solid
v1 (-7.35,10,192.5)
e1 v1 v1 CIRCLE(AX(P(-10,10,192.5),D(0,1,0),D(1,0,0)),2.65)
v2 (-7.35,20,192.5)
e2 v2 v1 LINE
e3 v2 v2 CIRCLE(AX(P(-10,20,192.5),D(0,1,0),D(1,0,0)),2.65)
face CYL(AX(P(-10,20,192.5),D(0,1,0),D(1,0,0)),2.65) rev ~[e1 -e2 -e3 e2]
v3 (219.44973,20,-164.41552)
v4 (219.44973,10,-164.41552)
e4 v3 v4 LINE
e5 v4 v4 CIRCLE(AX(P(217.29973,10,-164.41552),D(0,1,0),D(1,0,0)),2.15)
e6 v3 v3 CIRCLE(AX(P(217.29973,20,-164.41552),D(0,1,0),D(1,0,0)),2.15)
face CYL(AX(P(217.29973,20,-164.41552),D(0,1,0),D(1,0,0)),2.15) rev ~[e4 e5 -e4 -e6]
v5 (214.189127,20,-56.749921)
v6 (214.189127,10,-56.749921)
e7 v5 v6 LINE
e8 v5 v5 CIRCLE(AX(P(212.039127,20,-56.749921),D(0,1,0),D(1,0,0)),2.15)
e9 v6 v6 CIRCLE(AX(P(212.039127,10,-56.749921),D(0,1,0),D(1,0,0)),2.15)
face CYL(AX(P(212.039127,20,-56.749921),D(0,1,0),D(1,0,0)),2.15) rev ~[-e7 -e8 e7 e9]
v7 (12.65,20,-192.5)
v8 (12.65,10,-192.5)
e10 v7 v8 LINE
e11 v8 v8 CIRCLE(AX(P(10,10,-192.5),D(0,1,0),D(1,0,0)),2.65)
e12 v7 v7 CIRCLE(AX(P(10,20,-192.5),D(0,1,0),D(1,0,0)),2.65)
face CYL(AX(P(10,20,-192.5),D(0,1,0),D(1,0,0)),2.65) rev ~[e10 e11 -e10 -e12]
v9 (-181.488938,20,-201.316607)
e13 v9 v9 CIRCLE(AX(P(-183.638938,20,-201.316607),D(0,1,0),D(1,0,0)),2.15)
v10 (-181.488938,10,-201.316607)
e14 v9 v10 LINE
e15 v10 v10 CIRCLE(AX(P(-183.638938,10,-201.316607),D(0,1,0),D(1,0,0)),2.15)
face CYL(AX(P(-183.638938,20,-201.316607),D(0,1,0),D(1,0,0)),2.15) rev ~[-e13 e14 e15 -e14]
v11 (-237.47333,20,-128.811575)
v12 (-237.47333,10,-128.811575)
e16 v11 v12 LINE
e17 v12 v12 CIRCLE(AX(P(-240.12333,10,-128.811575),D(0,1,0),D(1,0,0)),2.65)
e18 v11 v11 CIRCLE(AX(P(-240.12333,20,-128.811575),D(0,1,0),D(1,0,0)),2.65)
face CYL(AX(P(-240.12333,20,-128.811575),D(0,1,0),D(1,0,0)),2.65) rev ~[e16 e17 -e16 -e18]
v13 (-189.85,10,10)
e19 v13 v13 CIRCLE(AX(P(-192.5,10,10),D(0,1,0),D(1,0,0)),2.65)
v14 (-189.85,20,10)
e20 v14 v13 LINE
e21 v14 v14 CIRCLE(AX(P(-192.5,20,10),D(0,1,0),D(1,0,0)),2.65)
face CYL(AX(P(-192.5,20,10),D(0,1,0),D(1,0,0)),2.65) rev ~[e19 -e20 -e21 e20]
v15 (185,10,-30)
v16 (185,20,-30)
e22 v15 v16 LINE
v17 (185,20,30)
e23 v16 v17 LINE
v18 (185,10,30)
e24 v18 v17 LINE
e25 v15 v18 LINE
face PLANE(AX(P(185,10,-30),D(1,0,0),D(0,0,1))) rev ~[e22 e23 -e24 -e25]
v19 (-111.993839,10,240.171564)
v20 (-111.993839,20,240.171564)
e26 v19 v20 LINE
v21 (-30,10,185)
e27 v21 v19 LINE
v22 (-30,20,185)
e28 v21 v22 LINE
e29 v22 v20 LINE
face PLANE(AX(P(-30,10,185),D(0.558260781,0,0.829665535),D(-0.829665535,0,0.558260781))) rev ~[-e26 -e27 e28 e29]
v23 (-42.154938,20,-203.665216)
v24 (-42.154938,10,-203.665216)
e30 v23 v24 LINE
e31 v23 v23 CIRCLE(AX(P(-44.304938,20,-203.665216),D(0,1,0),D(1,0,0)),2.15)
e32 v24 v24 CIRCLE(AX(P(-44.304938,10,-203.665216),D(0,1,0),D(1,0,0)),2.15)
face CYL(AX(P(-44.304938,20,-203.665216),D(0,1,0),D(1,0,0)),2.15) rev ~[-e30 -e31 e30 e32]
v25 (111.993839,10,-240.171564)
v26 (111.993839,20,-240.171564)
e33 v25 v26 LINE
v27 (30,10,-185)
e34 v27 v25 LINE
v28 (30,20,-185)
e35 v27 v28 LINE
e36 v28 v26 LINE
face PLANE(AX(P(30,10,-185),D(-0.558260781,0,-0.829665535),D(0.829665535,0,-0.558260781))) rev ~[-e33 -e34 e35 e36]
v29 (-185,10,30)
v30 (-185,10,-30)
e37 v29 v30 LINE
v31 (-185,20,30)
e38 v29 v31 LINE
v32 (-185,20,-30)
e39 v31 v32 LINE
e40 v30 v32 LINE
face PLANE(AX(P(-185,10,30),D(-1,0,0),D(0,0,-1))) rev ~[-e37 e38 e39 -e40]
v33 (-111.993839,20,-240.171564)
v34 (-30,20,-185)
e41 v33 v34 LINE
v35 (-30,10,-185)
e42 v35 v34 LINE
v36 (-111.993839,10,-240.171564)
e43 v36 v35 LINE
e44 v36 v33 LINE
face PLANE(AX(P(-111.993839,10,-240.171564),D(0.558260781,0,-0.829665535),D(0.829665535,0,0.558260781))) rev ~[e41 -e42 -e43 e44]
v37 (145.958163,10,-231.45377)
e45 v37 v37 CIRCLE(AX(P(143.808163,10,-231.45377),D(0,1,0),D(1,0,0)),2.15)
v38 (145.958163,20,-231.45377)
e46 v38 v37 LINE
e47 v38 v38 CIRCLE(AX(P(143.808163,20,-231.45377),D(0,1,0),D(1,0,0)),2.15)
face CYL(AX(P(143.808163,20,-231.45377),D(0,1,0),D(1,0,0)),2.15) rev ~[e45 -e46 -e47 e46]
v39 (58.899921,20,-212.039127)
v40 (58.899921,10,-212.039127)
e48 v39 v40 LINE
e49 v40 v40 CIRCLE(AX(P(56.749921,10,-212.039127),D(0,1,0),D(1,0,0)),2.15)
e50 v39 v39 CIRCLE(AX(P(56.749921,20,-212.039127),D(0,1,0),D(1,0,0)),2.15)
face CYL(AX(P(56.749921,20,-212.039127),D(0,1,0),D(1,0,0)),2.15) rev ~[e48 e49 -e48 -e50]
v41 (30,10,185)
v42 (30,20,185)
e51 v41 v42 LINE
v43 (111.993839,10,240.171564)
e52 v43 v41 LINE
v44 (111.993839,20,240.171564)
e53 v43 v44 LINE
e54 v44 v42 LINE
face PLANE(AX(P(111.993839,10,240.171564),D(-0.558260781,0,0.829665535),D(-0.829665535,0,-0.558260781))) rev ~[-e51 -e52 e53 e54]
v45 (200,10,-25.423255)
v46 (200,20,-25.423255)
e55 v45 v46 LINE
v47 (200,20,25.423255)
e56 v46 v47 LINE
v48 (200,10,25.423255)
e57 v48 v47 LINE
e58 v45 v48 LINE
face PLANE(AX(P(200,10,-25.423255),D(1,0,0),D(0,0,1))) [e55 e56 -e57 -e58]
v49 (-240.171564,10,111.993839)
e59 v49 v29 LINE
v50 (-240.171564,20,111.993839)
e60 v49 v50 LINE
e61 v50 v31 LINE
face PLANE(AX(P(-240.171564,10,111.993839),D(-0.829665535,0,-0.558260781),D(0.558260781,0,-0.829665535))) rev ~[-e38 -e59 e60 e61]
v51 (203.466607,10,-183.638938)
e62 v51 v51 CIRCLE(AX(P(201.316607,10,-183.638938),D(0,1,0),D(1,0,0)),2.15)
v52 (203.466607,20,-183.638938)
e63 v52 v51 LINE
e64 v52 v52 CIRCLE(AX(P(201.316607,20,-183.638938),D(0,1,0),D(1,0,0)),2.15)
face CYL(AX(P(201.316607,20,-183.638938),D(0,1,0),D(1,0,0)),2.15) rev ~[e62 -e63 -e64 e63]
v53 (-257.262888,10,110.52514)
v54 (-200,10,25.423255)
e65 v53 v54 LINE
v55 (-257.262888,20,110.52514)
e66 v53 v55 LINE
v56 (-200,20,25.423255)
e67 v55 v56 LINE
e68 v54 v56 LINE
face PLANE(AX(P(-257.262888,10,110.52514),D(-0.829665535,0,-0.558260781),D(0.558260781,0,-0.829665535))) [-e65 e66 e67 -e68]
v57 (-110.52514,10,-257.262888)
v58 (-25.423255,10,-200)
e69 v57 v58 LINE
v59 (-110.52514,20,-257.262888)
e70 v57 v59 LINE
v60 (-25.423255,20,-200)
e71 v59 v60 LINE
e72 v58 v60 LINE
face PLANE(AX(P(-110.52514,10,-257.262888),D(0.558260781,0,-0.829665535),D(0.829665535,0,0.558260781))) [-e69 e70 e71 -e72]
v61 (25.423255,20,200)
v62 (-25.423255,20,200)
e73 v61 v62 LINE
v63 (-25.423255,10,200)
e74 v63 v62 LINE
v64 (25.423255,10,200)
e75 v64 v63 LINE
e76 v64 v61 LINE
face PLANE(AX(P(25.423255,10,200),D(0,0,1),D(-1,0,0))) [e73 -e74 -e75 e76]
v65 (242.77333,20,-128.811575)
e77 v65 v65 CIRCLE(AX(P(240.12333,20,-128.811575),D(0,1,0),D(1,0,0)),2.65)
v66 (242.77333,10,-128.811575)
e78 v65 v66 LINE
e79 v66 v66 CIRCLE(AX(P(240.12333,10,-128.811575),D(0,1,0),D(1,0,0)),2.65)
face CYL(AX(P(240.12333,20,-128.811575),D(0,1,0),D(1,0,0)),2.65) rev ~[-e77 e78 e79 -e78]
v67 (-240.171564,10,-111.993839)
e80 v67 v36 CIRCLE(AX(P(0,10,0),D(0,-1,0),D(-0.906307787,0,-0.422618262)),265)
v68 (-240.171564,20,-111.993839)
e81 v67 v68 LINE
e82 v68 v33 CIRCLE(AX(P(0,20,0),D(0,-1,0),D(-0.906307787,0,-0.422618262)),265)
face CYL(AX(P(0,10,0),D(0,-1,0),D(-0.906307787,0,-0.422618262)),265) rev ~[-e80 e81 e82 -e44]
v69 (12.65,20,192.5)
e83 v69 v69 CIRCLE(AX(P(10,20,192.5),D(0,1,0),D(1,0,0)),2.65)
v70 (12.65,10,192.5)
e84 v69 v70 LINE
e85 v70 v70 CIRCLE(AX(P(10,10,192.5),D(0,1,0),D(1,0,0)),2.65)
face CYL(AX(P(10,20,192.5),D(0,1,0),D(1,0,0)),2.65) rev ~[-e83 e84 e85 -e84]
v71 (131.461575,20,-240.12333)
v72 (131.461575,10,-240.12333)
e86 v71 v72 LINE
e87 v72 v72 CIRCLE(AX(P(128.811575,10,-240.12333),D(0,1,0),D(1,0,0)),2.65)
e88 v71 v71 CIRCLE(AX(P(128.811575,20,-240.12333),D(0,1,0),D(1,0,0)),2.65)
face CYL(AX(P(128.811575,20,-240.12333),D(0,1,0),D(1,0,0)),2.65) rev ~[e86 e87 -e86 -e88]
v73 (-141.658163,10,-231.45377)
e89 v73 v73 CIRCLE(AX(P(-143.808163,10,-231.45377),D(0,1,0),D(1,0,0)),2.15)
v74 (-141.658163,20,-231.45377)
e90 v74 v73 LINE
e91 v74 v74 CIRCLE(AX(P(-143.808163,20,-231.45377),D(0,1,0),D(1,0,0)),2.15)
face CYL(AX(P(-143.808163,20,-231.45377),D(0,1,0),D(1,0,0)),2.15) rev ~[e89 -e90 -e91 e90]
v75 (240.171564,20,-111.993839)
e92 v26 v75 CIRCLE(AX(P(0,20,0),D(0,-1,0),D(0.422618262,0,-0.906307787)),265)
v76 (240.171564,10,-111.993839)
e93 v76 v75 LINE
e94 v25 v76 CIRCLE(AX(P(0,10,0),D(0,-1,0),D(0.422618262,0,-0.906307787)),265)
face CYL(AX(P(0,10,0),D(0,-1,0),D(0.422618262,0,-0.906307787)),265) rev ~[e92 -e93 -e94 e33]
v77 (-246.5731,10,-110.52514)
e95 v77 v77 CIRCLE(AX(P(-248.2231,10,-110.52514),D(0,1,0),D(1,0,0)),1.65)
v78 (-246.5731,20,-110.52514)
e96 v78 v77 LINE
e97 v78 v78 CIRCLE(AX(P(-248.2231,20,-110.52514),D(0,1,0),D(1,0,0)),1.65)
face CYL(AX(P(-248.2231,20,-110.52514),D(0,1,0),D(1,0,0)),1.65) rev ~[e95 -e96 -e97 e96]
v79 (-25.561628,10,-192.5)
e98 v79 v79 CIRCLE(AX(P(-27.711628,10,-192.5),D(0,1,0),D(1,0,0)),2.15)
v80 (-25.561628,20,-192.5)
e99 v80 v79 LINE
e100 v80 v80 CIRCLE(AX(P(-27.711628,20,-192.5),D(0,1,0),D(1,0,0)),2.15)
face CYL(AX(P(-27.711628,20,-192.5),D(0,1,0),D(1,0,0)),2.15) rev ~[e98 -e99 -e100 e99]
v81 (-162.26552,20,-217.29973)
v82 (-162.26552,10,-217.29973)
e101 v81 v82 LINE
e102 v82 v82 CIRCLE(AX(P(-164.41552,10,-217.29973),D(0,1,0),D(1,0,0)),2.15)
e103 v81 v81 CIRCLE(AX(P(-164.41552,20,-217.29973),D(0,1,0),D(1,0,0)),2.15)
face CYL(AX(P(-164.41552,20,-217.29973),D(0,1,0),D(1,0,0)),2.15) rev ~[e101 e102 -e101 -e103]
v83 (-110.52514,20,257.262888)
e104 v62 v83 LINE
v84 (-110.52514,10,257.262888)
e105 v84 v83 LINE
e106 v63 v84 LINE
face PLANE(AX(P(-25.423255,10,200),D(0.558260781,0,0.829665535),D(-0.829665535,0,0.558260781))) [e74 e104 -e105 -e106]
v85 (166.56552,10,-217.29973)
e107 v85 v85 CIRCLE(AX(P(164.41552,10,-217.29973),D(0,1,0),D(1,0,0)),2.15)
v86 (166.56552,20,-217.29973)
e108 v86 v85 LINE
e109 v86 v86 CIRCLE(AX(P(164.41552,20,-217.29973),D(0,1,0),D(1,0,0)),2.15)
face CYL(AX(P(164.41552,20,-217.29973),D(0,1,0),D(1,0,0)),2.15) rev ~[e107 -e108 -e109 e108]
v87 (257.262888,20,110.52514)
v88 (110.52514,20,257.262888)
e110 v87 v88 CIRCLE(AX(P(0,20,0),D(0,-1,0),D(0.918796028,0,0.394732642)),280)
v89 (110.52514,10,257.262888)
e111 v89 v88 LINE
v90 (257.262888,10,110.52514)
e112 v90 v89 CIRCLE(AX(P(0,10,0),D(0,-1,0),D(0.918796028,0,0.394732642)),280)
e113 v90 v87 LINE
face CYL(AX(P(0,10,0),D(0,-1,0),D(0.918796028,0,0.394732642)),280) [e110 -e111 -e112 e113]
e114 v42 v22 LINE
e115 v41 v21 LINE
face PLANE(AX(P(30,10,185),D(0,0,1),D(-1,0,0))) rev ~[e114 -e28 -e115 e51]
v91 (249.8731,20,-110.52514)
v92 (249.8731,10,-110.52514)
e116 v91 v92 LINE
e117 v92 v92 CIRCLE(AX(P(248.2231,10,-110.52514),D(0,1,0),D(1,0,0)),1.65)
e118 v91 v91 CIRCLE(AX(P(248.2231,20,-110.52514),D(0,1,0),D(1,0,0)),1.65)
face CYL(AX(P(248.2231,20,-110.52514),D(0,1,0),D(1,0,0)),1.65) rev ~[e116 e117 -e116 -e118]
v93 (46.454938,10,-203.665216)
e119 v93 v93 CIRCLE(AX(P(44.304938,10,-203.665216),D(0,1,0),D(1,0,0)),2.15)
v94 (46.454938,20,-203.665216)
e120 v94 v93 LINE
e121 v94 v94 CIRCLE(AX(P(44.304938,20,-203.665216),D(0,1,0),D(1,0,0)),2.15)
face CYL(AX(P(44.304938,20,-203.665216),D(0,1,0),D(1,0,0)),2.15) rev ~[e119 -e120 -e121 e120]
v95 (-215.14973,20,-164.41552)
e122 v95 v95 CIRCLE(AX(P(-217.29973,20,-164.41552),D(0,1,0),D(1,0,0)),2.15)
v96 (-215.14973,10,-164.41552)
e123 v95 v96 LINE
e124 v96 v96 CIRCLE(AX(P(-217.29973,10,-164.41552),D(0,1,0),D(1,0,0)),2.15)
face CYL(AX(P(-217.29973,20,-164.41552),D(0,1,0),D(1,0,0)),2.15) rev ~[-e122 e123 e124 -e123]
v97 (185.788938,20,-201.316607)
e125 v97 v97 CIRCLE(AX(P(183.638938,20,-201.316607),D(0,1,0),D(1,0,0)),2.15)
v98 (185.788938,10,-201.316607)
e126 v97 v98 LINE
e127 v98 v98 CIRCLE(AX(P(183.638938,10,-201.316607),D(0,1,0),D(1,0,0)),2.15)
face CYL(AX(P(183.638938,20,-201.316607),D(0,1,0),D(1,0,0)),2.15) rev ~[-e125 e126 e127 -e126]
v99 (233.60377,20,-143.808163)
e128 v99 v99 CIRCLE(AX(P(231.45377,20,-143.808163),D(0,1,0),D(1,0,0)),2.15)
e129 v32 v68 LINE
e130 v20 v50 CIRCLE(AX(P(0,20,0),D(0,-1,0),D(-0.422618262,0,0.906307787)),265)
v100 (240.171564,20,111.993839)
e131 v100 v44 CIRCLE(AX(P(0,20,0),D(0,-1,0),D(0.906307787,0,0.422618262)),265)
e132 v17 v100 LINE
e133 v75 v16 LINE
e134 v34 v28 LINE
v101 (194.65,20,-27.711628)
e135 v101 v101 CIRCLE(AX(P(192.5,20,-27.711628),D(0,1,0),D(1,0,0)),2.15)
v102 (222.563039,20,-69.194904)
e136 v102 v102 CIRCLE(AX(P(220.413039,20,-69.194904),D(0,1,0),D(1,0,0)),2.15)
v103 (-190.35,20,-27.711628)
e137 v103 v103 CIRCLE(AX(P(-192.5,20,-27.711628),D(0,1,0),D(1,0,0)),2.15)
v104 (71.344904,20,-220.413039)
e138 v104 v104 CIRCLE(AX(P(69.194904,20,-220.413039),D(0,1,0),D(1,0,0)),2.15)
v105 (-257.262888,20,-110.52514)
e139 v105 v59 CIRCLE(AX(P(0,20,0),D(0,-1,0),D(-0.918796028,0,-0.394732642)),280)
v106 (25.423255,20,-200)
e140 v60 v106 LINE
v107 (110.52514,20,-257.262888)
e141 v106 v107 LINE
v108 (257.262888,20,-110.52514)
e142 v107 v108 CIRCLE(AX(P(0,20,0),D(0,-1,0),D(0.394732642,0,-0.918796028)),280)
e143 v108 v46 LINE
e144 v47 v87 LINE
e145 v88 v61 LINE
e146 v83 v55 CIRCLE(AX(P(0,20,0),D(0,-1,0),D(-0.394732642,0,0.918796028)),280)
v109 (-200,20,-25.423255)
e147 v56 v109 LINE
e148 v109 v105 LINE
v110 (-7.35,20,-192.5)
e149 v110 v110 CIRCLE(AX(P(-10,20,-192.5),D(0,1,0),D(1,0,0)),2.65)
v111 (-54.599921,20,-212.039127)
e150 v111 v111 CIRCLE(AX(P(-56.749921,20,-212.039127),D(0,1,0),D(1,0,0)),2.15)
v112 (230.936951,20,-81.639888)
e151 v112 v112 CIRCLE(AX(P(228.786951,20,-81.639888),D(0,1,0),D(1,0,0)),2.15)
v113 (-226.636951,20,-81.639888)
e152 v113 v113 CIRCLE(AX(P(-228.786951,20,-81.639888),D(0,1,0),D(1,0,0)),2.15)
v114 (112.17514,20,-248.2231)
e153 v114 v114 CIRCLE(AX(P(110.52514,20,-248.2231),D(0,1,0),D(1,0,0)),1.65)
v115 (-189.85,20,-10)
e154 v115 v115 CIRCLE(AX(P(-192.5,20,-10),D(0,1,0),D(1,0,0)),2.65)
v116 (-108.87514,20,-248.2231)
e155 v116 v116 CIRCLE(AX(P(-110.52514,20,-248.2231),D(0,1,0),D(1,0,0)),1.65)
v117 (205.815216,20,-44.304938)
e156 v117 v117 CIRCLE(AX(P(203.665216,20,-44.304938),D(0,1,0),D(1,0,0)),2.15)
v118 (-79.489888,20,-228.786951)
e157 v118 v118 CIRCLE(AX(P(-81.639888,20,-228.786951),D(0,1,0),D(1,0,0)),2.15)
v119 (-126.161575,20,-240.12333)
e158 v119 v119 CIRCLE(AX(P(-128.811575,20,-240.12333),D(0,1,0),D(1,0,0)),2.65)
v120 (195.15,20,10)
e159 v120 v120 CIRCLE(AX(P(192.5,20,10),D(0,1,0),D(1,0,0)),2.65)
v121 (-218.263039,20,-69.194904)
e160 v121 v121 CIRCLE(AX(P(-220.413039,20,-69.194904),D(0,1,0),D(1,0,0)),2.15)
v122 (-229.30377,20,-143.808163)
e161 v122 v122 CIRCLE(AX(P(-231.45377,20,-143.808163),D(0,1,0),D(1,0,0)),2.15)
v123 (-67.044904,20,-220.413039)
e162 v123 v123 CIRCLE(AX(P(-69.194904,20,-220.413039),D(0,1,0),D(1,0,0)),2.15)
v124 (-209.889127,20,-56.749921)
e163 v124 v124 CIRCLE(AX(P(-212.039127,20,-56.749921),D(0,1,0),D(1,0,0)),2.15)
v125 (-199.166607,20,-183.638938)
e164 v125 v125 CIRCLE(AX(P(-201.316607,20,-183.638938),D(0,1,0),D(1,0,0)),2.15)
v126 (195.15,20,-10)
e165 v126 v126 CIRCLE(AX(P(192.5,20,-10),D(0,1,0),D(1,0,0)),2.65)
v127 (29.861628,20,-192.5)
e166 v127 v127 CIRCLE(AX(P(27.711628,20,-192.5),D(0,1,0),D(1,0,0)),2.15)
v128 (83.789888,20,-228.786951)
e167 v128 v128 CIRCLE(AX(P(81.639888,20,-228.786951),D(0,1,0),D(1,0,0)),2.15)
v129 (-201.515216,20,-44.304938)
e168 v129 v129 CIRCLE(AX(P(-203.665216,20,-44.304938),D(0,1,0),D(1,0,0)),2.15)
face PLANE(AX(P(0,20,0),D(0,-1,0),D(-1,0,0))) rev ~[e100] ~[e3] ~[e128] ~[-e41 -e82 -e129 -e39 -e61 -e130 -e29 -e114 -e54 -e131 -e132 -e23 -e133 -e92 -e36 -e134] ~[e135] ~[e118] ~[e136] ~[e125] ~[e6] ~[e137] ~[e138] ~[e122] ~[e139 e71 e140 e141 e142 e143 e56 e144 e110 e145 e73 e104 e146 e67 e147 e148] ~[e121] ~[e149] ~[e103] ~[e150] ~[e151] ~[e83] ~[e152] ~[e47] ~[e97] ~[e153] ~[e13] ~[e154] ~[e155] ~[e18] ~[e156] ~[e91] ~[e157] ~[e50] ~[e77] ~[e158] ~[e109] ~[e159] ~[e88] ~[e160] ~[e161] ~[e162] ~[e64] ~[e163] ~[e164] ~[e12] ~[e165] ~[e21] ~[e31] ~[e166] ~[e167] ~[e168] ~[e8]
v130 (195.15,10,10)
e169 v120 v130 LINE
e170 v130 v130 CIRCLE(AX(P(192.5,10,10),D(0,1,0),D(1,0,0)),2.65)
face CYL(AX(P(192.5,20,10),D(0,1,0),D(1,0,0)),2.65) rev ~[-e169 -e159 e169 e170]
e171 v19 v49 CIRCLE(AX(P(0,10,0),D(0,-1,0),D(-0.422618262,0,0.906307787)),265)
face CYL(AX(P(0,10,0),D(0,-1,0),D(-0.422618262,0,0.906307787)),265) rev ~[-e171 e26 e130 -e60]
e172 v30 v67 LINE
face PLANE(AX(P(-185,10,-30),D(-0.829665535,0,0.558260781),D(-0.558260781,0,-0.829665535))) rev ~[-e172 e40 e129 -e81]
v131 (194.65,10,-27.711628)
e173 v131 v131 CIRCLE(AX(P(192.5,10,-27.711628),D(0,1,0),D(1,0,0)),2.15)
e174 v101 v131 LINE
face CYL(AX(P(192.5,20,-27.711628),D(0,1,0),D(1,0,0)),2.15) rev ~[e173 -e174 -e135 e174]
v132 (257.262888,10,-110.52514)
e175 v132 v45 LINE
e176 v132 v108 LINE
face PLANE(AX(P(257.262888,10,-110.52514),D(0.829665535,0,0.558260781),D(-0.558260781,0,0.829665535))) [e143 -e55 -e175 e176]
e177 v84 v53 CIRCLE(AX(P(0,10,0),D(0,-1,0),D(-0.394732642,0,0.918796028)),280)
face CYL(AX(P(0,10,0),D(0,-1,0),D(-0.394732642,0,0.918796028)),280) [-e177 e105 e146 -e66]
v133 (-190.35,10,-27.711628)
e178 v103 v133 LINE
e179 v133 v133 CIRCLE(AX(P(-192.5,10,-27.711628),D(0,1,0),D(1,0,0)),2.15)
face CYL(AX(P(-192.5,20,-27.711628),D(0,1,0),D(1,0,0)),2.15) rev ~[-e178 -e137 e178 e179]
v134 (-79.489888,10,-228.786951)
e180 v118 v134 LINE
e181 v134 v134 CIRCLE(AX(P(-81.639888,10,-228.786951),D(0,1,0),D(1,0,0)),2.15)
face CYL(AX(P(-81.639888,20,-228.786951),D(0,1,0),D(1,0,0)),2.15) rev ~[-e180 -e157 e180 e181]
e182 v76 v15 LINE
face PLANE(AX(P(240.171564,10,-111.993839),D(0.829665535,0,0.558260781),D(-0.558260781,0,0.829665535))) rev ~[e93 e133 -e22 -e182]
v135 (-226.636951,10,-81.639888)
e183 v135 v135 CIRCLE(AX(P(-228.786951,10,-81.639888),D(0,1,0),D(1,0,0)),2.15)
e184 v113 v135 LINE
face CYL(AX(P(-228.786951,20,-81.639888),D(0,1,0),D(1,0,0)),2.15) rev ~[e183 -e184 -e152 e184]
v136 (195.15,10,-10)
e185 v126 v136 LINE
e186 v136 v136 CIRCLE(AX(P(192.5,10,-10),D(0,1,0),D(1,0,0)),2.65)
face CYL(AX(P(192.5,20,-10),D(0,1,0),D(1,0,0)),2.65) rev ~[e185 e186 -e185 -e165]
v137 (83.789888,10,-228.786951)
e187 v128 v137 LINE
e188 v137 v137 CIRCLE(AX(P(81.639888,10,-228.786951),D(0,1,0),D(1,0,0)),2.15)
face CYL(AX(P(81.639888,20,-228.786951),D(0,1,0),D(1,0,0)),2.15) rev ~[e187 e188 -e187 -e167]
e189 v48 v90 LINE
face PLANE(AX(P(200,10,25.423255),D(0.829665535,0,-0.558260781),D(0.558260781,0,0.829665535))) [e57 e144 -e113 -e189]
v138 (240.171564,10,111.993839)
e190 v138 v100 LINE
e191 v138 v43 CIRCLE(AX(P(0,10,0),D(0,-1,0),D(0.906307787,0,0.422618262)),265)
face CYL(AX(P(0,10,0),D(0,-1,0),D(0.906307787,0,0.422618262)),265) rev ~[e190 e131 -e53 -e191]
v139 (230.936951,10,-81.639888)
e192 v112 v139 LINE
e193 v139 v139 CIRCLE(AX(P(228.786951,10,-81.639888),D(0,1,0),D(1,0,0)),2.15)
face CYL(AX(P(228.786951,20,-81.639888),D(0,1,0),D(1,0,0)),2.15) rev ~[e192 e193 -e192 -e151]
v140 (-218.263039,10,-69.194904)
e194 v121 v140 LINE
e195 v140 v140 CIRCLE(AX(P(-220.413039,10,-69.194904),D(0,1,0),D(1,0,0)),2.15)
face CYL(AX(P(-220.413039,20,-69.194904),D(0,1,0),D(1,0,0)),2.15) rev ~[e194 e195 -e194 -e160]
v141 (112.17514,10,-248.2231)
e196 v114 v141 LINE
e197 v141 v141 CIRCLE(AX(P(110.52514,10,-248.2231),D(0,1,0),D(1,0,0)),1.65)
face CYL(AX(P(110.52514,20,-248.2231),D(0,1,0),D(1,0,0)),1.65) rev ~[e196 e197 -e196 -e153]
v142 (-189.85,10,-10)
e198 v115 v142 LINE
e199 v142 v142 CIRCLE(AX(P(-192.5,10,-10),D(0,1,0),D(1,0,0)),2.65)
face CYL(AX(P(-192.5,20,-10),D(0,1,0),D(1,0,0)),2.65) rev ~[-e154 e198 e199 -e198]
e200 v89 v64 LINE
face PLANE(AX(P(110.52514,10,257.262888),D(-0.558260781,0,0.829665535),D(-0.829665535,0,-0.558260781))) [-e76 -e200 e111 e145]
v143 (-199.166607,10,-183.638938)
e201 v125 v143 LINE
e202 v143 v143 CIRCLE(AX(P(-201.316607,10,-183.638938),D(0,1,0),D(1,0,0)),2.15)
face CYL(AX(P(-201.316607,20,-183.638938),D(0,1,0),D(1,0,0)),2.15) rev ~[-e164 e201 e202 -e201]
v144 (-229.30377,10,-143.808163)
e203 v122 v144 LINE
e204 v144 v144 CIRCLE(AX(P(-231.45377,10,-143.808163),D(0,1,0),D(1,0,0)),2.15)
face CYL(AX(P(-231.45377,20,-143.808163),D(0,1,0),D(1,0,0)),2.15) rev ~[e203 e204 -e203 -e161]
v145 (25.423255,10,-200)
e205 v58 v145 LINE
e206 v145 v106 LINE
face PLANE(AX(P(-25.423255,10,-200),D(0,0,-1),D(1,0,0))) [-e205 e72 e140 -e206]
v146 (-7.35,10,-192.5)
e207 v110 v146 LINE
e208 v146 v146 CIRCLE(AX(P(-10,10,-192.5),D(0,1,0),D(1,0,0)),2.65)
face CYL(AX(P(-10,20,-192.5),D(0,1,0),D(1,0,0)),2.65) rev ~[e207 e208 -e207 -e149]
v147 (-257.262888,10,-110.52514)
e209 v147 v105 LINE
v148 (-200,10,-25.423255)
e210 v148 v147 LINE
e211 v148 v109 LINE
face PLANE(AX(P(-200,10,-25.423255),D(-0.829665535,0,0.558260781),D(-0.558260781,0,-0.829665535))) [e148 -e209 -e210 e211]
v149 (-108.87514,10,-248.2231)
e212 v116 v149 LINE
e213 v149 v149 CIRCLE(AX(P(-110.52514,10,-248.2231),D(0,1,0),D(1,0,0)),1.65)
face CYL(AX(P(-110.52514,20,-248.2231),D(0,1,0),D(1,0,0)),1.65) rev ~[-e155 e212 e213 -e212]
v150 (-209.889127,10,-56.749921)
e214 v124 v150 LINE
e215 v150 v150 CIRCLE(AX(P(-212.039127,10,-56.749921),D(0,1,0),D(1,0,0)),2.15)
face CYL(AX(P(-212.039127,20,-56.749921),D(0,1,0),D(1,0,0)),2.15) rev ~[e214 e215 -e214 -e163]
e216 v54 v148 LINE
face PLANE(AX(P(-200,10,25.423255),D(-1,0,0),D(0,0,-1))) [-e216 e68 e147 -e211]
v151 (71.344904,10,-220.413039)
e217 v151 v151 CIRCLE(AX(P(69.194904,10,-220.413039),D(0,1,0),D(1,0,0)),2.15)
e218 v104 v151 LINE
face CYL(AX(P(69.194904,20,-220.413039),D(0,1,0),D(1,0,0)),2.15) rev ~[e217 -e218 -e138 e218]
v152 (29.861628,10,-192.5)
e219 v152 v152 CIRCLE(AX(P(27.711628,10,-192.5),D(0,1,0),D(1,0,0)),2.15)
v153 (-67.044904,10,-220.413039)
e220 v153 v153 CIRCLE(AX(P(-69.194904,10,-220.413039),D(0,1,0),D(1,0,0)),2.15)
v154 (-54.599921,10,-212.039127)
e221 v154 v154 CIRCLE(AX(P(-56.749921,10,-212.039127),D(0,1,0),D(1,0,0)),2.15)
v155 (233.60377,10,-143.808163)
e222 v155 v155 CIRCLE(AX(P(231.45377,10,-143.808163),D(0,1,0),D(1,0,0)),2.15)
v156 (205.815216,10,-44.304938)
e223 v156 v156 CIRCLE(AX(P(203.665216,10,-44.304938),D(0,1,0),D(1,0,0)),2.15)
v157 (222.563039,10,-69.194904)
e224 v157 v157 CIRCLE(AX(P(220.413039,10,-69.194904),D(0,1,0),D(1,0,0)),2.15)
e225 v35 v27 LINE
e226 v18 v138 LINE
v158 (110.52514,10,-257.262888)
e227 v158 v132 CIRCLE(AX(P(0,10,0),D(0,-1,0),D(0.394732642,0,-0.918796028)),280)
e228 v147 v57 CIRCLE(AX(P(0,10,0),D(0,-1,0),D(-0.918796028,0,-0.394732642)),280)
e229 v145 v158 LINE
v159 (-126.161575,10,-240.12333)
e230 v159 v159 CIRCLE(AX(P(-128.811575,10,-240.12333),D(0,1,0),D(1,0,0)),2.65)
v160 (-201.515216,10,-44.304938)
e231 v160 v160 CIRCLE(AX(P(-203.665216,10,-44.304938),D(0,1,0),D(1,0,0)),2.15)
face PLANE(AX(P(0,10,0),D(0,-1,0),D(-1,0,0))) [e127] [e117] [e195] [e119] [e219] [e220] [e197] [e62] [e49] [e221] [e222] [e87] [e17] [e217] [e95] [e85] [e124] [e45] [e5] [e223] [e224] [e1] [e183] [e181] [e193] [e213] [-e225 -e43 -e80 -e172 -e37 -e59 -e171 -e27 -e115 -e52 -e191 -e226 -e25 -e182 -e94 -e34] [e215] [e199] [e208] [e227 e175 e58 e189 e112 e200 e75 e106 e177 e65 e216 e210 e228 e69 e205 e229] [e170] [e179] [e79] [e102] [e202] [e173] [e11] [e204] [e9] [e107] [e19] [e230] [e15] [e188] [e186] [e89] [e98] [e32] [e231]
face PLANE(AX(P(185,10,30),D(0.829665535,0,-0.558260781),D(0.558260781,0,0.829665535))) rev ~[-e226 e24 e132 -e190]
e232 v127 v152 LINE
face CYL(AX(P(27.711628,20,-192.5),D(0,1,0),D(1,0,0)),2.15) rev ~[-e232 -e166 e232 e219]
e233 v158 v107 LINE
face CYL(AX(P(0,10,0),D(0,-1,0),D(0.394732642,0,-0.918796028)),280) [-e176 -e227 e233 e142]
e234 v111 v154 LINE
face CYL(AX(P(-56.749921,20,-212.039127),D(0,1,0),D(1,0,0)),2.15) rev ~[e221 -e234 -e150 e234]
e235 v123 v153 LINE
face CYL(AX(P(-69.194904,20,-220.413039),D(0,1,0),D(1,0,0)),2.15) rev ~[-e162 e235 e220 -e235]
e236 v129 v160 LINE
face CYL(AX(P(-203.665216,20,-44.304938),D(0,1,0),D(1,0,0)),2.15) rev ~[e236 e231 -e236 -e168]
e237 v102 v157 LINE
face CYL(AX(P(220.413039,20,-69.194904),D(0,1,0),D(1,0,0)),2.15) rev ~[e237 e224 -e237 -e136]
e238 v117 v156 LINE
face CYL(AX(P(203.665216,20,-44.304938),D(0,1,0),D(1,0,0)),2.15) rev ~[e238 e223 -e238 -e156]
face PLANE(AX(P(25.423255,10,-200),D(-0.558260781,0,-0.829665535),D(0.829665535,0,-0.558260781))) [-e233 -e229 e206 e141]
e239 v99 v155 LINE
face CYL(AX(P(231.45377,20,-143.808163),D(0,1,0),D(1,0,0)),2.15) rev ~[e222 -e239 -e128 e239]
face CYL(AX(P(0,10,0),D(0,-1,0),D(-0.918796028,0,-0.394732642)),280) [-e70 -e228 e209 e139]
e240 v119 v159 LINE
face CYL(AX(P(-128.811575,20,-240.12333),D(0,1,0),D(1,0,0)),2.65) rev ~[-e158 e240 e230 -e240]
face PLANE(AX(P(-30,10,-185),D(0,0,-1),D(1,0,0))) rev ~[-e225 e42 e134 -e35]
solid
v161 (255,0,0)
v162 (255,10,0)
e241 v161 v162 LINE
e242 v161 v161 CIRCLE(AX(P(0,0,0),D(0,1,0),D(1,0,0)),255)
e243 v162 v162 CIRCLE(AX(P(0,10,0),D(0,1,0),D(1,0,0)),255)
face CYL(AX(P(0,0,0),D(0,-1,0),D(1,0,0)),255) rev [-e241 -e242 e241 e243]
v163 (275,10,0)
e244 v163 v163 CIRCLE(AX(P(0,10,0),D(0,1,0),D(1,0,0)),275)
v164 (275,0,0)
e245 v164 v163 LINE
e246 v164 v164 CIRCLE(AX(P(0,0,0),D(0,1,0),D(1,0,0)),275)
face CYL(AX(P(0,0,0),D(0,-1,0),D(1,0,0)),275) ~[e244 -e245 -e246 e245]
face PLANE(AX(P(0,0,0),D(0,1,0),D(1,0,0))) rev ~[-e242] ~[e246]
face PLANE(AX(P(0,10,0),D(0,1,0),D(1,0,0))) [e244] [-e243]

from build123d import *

# Parameters (mm, degrees)
SKETCH_1_R          = 275
SKETCH_1_R_2        = 255
EXTRUDE_1_DEPTH     = 10
EXTRUDE_2_DEPTH     = 10
SKETCH_8_R          = 2.65
SKETCH_8_R_2        = 1.65
SKETCH_8_R_3        = 2.15
CUT_EXTRUDE_1_DEPTH = 21


with BuildPart() as part:
    # 草图1 → 凸台-拉伸1 (new body)
    with BuildSketch(Plane(origin=(0, 0, 0), x_dir=(1, 0, 0), z_dir=(0, 1, 0))):
        Circle(SKETCH_1_R)
        Circle(SKETCH_1_R_2, mode=Mode.SUBTRACT)
    extrude(amount=EXTRUDE_1_DEPTH)


with BuildPart() as body_2:
    # 草图2 → 凸台-拉伸2 (new body)
    with BuildSketch(Plane(origin=(0, 10, 0), x_dir=(1, 0, 0), z_dir=(0, 1, 0))):
        with BuildLine():
            Line((-110.525139894, 257.262887824), (-25.423255477, 200))
            Line((-25.423255477, 200), (0, 200))
            Line((0, 200), (25.423255477, 200))
            Line((25.423255477, 200), (110.525139894, 257.262887824))
            ThreePointArc((110.525139894, 257.262887824), (197.989898732, 197.989898732), (257.262887824, 110.525139894))
            Line((257.262887824, 110.525139894), (200, 25.423255477))
            Line((200, 25.423255477), (200, 0))
            Line((200, 0), (200, -25.423255477))
            Line((200, -25.423255477), (257.262887824, -110.525139894))
            ThreePointArc((257.262887824, -110.525139894), (197.989898732, -197.989898732), (110.525139894, -257.262887824))
            Line((110.525139894, -257.262887824), (25.423255477, -200))
            Line((25.423255477, -200), (0, -200))
            Line((0, -200), (-25.423255477, -200))
            Line((-25.423255477, -200), (-110.525139894, -257.262887824))
            ThreePointArc((-110.525139894, -257.262887824), (-197.989898732, -197.989898732), (-257.262887824, -110.525139894))
            Line((-257.262887824, -110.525139894), (-200, -25.423255477))
            Line((-200, -25.423255477), (-200, 25.423255477))
            Line((-200, 25.423255477), (-257.262887824, 110.525139894))
            ThreePointArc((-257.262887824, 110.525139894), (-197.989898732, 197.989898732), (-110.525139894, 257.262887824))
        make_face()
        with BuildLine():
            Line((0, 185), (30, 185))
            Line((30, 185), (111.993839361, 240.171563565))
            ThreePointArc((111.993839361, 240.171563565), (187.383297014, 187.383297014), (240.171563565, 111.993839361))
            Line((240.171563565, 111.993839361), (185, 30))
            Line((185, 30), (185, 0))
            Line((185, 0), (185, -30))
            Line((185, -30), (240.171563565, -111.993839361))
            ThreePointArc((240.171563565, -111.993839361), (187.383297014, -187.383297014), (111.993839361, -240.171563565))
            Line((111.993839361, -240.171563565), (30, -185))
            Line((30, -185), (0, -185))
            Line((0, -185), (-30, -185))
            Line((-30, -185), (-111.993839361, -240.171563565))
            ThreePointArc((-111.993839361, -240.171563565), (-187.383297014, -187.383297014), (-240.171563565, -111.993839361))
            Line((-240.171563565, -111.993839361), (-185, -30))
            Line((-185, -30), (-185, 30))
            Line((-185, 30), (-240.171563565, 111.993839361))
            ThreePointArc((-240.171563565, 111.993839361), (-187.383297014, 187.383297014), (-111.993839361, 240.171563565))
            Line((-111.993839361, 240.171563565), (-30, 185))
            Line((-30, 185), (0, 185))
        make_face(mode=Mode.SUBTRACT)
    extrude(amount=EXTRUDE_2_DEPTH)

    # 草图8 → 切除-拉伸1 (cut, through all)
    with BuildSketch(Plane(origin=(0, 20, 0), x_dir=(1, 0, 0), z_dir=(0, 1, 0))):
        with Locations((-10, 192.5)):
            Circle(SKETCH_8_R)
        with Locations((10, 192.5)):
            Circle(SKETCH_8_R)
        with Locations((-10, -192.5)):
            Circle(SKETCH_8_R)
        with Locations((10, -192.5)):
            Circle(SKETCH_8_R)
        with Locations((192.5, 10)):
            Circle(SKETCH_8_R)
        with Locations((192.5, -10)):
            Circle(SKETCH_8_R)
        with Locations((-192.5, 10)):
            Circle(SKETCH_8_R)
        with Locations((-192.5, -10)):
            Circle(SKETCH_8_R)
        with Locations((-110.525139894, 248.223100485)):
            Circle(SKETCH_8_R_2)
        with Locations((-27.711627738, 192.5)):
            Circle(SKETCH_8_R_3)
        with Locations((-44.304938442, 203.665215623)):
            Circle(SKETCH_8_R_3)
        with Locations((-56.749921469, 212.03912734)):
            Circle(SKETCH_8_R_3)
        with Locations((-69.194904497, 220.413039057)):
            Circle(SKETCH_8_R_3)
        with Locations((-81.639887524, 228.786950774)):
            Circle(SKETCH_8_R_3)
        with Locations((-143.808163456, 231.45377032)):
            Circle(SKETCH_8_R_3)
        with Locations((-164.415519771, 217.299729706)):
            Circle(SKETCH_8_R_3)
        with Locations((-183.638937552, 201.316607082)):
            Circle(SKETCH_8_R_3)
        with Locations((-201.316607082, 183.638937552)):
            Circle(SKETCH_8_R_3)
        with Locations((-217.299729706, 164.415519771)):
            Circle(SKETCH_8_R_3)
        with Locations((-231.45377032, 143.808163456)):
            Circle(SKETCH_8_R_3)
        with Locations((-128.811575358, 240.123330241)):
            Circle(SKETCH_8_R)
        with Locations((-240.123330241, 128.811575358)):
            Circle(SKETCH_8_R)
        with Locations((-228.786950774, 81.639887524)):
            Circle(SKETCH_8_R_3)
        with Locations((-220.413039057, 69.194904497)):
            Circle(SKETCH_8_R_3)
        with Locations((-212.03912734, 56.749921469)):
            Circle(SKETCH_8_R_3)
        with Locations((-203.665215623, 44.304938442)):
            Circle(SKETCH_8_R_3)
        with Locations((-192.5, 27.711627738)):
            Circle(SKETCH_8_R_3)
        with Locations((-248.223100485, 110.525139894)):
            Circle(SKETCH_8_R_2)
        with Locations((192.5, 27.711627738)):
            Circle(SKETCH_8_R_3)
        with Locations((248.223100485, 110.525139894)):
            Circle(SKETCH_8_R_2)
        with Locations((203.665215623, 44.304938442)):
            Circle(SKETCH_8_R_3)
        with Locations((212.03912734, 56.749921469)):
            Circle(SKETCH_8_R_3)
        with Locations((220.413039057, 69.194904497)):
            Circle(SKETCH_8_R_3)
        with Locations((228.786950774, 81.639887524)):
            Circle(SKETCH_8_R_3)
        with Locations((240.123330241, 128.811575358)):
            Circle(SKETCH_8_R)
        with Locations((231.45377032, 143.808163456)):
            Circle(SKETCH_8_R_3)
        with Locations((128.811575358, 240.123330241)):
            Circle(SKETCH_8_R)
        with Locations((201.316607082, 183.638937552)):
            Circle(SKETCH_8_R_3)
        with Locations((183.638937552, 201.316607082)):
            Circle(SKETCH_8_R_3)
        with Locations((164.415519771, 217.299729706)):
            Circle(SKETCH_8_R_3)
        with Locations((143.808163456, 231.45377032)):
            Circle(SKETCH_8_R_3)
        with Locations((81.639887524, 228.786950774)):
            Circle(SKETCH_8_R_3)
        with Locations((69.194904497, 220.413039057)):
            Circle(SKETCH_8_R_3)
        with Locations((56.749921469, 212.03912734)):
            Circle(SKETCH_8_R_3)
        with Locations((44.304938442, 203.665215623)):
            Circle(SKETCH_8_R_3)
        with Locations((110.525139894, 248.223100485)):
            Circle(SKETCH_8_R_2)
        with Locations((27.711627738, 192.5)):
            Circle(SKETCH_8_R_3)
        with Locations((217.299729706, 164.415519771)):
            Circle(SKETCH_8_R_3)
    extrude(amount=-CUT_EXTRUDE_1_DEPTH, mode=Mode.SUBTRACT)


solid = Compound([part.part, body_2.part])
